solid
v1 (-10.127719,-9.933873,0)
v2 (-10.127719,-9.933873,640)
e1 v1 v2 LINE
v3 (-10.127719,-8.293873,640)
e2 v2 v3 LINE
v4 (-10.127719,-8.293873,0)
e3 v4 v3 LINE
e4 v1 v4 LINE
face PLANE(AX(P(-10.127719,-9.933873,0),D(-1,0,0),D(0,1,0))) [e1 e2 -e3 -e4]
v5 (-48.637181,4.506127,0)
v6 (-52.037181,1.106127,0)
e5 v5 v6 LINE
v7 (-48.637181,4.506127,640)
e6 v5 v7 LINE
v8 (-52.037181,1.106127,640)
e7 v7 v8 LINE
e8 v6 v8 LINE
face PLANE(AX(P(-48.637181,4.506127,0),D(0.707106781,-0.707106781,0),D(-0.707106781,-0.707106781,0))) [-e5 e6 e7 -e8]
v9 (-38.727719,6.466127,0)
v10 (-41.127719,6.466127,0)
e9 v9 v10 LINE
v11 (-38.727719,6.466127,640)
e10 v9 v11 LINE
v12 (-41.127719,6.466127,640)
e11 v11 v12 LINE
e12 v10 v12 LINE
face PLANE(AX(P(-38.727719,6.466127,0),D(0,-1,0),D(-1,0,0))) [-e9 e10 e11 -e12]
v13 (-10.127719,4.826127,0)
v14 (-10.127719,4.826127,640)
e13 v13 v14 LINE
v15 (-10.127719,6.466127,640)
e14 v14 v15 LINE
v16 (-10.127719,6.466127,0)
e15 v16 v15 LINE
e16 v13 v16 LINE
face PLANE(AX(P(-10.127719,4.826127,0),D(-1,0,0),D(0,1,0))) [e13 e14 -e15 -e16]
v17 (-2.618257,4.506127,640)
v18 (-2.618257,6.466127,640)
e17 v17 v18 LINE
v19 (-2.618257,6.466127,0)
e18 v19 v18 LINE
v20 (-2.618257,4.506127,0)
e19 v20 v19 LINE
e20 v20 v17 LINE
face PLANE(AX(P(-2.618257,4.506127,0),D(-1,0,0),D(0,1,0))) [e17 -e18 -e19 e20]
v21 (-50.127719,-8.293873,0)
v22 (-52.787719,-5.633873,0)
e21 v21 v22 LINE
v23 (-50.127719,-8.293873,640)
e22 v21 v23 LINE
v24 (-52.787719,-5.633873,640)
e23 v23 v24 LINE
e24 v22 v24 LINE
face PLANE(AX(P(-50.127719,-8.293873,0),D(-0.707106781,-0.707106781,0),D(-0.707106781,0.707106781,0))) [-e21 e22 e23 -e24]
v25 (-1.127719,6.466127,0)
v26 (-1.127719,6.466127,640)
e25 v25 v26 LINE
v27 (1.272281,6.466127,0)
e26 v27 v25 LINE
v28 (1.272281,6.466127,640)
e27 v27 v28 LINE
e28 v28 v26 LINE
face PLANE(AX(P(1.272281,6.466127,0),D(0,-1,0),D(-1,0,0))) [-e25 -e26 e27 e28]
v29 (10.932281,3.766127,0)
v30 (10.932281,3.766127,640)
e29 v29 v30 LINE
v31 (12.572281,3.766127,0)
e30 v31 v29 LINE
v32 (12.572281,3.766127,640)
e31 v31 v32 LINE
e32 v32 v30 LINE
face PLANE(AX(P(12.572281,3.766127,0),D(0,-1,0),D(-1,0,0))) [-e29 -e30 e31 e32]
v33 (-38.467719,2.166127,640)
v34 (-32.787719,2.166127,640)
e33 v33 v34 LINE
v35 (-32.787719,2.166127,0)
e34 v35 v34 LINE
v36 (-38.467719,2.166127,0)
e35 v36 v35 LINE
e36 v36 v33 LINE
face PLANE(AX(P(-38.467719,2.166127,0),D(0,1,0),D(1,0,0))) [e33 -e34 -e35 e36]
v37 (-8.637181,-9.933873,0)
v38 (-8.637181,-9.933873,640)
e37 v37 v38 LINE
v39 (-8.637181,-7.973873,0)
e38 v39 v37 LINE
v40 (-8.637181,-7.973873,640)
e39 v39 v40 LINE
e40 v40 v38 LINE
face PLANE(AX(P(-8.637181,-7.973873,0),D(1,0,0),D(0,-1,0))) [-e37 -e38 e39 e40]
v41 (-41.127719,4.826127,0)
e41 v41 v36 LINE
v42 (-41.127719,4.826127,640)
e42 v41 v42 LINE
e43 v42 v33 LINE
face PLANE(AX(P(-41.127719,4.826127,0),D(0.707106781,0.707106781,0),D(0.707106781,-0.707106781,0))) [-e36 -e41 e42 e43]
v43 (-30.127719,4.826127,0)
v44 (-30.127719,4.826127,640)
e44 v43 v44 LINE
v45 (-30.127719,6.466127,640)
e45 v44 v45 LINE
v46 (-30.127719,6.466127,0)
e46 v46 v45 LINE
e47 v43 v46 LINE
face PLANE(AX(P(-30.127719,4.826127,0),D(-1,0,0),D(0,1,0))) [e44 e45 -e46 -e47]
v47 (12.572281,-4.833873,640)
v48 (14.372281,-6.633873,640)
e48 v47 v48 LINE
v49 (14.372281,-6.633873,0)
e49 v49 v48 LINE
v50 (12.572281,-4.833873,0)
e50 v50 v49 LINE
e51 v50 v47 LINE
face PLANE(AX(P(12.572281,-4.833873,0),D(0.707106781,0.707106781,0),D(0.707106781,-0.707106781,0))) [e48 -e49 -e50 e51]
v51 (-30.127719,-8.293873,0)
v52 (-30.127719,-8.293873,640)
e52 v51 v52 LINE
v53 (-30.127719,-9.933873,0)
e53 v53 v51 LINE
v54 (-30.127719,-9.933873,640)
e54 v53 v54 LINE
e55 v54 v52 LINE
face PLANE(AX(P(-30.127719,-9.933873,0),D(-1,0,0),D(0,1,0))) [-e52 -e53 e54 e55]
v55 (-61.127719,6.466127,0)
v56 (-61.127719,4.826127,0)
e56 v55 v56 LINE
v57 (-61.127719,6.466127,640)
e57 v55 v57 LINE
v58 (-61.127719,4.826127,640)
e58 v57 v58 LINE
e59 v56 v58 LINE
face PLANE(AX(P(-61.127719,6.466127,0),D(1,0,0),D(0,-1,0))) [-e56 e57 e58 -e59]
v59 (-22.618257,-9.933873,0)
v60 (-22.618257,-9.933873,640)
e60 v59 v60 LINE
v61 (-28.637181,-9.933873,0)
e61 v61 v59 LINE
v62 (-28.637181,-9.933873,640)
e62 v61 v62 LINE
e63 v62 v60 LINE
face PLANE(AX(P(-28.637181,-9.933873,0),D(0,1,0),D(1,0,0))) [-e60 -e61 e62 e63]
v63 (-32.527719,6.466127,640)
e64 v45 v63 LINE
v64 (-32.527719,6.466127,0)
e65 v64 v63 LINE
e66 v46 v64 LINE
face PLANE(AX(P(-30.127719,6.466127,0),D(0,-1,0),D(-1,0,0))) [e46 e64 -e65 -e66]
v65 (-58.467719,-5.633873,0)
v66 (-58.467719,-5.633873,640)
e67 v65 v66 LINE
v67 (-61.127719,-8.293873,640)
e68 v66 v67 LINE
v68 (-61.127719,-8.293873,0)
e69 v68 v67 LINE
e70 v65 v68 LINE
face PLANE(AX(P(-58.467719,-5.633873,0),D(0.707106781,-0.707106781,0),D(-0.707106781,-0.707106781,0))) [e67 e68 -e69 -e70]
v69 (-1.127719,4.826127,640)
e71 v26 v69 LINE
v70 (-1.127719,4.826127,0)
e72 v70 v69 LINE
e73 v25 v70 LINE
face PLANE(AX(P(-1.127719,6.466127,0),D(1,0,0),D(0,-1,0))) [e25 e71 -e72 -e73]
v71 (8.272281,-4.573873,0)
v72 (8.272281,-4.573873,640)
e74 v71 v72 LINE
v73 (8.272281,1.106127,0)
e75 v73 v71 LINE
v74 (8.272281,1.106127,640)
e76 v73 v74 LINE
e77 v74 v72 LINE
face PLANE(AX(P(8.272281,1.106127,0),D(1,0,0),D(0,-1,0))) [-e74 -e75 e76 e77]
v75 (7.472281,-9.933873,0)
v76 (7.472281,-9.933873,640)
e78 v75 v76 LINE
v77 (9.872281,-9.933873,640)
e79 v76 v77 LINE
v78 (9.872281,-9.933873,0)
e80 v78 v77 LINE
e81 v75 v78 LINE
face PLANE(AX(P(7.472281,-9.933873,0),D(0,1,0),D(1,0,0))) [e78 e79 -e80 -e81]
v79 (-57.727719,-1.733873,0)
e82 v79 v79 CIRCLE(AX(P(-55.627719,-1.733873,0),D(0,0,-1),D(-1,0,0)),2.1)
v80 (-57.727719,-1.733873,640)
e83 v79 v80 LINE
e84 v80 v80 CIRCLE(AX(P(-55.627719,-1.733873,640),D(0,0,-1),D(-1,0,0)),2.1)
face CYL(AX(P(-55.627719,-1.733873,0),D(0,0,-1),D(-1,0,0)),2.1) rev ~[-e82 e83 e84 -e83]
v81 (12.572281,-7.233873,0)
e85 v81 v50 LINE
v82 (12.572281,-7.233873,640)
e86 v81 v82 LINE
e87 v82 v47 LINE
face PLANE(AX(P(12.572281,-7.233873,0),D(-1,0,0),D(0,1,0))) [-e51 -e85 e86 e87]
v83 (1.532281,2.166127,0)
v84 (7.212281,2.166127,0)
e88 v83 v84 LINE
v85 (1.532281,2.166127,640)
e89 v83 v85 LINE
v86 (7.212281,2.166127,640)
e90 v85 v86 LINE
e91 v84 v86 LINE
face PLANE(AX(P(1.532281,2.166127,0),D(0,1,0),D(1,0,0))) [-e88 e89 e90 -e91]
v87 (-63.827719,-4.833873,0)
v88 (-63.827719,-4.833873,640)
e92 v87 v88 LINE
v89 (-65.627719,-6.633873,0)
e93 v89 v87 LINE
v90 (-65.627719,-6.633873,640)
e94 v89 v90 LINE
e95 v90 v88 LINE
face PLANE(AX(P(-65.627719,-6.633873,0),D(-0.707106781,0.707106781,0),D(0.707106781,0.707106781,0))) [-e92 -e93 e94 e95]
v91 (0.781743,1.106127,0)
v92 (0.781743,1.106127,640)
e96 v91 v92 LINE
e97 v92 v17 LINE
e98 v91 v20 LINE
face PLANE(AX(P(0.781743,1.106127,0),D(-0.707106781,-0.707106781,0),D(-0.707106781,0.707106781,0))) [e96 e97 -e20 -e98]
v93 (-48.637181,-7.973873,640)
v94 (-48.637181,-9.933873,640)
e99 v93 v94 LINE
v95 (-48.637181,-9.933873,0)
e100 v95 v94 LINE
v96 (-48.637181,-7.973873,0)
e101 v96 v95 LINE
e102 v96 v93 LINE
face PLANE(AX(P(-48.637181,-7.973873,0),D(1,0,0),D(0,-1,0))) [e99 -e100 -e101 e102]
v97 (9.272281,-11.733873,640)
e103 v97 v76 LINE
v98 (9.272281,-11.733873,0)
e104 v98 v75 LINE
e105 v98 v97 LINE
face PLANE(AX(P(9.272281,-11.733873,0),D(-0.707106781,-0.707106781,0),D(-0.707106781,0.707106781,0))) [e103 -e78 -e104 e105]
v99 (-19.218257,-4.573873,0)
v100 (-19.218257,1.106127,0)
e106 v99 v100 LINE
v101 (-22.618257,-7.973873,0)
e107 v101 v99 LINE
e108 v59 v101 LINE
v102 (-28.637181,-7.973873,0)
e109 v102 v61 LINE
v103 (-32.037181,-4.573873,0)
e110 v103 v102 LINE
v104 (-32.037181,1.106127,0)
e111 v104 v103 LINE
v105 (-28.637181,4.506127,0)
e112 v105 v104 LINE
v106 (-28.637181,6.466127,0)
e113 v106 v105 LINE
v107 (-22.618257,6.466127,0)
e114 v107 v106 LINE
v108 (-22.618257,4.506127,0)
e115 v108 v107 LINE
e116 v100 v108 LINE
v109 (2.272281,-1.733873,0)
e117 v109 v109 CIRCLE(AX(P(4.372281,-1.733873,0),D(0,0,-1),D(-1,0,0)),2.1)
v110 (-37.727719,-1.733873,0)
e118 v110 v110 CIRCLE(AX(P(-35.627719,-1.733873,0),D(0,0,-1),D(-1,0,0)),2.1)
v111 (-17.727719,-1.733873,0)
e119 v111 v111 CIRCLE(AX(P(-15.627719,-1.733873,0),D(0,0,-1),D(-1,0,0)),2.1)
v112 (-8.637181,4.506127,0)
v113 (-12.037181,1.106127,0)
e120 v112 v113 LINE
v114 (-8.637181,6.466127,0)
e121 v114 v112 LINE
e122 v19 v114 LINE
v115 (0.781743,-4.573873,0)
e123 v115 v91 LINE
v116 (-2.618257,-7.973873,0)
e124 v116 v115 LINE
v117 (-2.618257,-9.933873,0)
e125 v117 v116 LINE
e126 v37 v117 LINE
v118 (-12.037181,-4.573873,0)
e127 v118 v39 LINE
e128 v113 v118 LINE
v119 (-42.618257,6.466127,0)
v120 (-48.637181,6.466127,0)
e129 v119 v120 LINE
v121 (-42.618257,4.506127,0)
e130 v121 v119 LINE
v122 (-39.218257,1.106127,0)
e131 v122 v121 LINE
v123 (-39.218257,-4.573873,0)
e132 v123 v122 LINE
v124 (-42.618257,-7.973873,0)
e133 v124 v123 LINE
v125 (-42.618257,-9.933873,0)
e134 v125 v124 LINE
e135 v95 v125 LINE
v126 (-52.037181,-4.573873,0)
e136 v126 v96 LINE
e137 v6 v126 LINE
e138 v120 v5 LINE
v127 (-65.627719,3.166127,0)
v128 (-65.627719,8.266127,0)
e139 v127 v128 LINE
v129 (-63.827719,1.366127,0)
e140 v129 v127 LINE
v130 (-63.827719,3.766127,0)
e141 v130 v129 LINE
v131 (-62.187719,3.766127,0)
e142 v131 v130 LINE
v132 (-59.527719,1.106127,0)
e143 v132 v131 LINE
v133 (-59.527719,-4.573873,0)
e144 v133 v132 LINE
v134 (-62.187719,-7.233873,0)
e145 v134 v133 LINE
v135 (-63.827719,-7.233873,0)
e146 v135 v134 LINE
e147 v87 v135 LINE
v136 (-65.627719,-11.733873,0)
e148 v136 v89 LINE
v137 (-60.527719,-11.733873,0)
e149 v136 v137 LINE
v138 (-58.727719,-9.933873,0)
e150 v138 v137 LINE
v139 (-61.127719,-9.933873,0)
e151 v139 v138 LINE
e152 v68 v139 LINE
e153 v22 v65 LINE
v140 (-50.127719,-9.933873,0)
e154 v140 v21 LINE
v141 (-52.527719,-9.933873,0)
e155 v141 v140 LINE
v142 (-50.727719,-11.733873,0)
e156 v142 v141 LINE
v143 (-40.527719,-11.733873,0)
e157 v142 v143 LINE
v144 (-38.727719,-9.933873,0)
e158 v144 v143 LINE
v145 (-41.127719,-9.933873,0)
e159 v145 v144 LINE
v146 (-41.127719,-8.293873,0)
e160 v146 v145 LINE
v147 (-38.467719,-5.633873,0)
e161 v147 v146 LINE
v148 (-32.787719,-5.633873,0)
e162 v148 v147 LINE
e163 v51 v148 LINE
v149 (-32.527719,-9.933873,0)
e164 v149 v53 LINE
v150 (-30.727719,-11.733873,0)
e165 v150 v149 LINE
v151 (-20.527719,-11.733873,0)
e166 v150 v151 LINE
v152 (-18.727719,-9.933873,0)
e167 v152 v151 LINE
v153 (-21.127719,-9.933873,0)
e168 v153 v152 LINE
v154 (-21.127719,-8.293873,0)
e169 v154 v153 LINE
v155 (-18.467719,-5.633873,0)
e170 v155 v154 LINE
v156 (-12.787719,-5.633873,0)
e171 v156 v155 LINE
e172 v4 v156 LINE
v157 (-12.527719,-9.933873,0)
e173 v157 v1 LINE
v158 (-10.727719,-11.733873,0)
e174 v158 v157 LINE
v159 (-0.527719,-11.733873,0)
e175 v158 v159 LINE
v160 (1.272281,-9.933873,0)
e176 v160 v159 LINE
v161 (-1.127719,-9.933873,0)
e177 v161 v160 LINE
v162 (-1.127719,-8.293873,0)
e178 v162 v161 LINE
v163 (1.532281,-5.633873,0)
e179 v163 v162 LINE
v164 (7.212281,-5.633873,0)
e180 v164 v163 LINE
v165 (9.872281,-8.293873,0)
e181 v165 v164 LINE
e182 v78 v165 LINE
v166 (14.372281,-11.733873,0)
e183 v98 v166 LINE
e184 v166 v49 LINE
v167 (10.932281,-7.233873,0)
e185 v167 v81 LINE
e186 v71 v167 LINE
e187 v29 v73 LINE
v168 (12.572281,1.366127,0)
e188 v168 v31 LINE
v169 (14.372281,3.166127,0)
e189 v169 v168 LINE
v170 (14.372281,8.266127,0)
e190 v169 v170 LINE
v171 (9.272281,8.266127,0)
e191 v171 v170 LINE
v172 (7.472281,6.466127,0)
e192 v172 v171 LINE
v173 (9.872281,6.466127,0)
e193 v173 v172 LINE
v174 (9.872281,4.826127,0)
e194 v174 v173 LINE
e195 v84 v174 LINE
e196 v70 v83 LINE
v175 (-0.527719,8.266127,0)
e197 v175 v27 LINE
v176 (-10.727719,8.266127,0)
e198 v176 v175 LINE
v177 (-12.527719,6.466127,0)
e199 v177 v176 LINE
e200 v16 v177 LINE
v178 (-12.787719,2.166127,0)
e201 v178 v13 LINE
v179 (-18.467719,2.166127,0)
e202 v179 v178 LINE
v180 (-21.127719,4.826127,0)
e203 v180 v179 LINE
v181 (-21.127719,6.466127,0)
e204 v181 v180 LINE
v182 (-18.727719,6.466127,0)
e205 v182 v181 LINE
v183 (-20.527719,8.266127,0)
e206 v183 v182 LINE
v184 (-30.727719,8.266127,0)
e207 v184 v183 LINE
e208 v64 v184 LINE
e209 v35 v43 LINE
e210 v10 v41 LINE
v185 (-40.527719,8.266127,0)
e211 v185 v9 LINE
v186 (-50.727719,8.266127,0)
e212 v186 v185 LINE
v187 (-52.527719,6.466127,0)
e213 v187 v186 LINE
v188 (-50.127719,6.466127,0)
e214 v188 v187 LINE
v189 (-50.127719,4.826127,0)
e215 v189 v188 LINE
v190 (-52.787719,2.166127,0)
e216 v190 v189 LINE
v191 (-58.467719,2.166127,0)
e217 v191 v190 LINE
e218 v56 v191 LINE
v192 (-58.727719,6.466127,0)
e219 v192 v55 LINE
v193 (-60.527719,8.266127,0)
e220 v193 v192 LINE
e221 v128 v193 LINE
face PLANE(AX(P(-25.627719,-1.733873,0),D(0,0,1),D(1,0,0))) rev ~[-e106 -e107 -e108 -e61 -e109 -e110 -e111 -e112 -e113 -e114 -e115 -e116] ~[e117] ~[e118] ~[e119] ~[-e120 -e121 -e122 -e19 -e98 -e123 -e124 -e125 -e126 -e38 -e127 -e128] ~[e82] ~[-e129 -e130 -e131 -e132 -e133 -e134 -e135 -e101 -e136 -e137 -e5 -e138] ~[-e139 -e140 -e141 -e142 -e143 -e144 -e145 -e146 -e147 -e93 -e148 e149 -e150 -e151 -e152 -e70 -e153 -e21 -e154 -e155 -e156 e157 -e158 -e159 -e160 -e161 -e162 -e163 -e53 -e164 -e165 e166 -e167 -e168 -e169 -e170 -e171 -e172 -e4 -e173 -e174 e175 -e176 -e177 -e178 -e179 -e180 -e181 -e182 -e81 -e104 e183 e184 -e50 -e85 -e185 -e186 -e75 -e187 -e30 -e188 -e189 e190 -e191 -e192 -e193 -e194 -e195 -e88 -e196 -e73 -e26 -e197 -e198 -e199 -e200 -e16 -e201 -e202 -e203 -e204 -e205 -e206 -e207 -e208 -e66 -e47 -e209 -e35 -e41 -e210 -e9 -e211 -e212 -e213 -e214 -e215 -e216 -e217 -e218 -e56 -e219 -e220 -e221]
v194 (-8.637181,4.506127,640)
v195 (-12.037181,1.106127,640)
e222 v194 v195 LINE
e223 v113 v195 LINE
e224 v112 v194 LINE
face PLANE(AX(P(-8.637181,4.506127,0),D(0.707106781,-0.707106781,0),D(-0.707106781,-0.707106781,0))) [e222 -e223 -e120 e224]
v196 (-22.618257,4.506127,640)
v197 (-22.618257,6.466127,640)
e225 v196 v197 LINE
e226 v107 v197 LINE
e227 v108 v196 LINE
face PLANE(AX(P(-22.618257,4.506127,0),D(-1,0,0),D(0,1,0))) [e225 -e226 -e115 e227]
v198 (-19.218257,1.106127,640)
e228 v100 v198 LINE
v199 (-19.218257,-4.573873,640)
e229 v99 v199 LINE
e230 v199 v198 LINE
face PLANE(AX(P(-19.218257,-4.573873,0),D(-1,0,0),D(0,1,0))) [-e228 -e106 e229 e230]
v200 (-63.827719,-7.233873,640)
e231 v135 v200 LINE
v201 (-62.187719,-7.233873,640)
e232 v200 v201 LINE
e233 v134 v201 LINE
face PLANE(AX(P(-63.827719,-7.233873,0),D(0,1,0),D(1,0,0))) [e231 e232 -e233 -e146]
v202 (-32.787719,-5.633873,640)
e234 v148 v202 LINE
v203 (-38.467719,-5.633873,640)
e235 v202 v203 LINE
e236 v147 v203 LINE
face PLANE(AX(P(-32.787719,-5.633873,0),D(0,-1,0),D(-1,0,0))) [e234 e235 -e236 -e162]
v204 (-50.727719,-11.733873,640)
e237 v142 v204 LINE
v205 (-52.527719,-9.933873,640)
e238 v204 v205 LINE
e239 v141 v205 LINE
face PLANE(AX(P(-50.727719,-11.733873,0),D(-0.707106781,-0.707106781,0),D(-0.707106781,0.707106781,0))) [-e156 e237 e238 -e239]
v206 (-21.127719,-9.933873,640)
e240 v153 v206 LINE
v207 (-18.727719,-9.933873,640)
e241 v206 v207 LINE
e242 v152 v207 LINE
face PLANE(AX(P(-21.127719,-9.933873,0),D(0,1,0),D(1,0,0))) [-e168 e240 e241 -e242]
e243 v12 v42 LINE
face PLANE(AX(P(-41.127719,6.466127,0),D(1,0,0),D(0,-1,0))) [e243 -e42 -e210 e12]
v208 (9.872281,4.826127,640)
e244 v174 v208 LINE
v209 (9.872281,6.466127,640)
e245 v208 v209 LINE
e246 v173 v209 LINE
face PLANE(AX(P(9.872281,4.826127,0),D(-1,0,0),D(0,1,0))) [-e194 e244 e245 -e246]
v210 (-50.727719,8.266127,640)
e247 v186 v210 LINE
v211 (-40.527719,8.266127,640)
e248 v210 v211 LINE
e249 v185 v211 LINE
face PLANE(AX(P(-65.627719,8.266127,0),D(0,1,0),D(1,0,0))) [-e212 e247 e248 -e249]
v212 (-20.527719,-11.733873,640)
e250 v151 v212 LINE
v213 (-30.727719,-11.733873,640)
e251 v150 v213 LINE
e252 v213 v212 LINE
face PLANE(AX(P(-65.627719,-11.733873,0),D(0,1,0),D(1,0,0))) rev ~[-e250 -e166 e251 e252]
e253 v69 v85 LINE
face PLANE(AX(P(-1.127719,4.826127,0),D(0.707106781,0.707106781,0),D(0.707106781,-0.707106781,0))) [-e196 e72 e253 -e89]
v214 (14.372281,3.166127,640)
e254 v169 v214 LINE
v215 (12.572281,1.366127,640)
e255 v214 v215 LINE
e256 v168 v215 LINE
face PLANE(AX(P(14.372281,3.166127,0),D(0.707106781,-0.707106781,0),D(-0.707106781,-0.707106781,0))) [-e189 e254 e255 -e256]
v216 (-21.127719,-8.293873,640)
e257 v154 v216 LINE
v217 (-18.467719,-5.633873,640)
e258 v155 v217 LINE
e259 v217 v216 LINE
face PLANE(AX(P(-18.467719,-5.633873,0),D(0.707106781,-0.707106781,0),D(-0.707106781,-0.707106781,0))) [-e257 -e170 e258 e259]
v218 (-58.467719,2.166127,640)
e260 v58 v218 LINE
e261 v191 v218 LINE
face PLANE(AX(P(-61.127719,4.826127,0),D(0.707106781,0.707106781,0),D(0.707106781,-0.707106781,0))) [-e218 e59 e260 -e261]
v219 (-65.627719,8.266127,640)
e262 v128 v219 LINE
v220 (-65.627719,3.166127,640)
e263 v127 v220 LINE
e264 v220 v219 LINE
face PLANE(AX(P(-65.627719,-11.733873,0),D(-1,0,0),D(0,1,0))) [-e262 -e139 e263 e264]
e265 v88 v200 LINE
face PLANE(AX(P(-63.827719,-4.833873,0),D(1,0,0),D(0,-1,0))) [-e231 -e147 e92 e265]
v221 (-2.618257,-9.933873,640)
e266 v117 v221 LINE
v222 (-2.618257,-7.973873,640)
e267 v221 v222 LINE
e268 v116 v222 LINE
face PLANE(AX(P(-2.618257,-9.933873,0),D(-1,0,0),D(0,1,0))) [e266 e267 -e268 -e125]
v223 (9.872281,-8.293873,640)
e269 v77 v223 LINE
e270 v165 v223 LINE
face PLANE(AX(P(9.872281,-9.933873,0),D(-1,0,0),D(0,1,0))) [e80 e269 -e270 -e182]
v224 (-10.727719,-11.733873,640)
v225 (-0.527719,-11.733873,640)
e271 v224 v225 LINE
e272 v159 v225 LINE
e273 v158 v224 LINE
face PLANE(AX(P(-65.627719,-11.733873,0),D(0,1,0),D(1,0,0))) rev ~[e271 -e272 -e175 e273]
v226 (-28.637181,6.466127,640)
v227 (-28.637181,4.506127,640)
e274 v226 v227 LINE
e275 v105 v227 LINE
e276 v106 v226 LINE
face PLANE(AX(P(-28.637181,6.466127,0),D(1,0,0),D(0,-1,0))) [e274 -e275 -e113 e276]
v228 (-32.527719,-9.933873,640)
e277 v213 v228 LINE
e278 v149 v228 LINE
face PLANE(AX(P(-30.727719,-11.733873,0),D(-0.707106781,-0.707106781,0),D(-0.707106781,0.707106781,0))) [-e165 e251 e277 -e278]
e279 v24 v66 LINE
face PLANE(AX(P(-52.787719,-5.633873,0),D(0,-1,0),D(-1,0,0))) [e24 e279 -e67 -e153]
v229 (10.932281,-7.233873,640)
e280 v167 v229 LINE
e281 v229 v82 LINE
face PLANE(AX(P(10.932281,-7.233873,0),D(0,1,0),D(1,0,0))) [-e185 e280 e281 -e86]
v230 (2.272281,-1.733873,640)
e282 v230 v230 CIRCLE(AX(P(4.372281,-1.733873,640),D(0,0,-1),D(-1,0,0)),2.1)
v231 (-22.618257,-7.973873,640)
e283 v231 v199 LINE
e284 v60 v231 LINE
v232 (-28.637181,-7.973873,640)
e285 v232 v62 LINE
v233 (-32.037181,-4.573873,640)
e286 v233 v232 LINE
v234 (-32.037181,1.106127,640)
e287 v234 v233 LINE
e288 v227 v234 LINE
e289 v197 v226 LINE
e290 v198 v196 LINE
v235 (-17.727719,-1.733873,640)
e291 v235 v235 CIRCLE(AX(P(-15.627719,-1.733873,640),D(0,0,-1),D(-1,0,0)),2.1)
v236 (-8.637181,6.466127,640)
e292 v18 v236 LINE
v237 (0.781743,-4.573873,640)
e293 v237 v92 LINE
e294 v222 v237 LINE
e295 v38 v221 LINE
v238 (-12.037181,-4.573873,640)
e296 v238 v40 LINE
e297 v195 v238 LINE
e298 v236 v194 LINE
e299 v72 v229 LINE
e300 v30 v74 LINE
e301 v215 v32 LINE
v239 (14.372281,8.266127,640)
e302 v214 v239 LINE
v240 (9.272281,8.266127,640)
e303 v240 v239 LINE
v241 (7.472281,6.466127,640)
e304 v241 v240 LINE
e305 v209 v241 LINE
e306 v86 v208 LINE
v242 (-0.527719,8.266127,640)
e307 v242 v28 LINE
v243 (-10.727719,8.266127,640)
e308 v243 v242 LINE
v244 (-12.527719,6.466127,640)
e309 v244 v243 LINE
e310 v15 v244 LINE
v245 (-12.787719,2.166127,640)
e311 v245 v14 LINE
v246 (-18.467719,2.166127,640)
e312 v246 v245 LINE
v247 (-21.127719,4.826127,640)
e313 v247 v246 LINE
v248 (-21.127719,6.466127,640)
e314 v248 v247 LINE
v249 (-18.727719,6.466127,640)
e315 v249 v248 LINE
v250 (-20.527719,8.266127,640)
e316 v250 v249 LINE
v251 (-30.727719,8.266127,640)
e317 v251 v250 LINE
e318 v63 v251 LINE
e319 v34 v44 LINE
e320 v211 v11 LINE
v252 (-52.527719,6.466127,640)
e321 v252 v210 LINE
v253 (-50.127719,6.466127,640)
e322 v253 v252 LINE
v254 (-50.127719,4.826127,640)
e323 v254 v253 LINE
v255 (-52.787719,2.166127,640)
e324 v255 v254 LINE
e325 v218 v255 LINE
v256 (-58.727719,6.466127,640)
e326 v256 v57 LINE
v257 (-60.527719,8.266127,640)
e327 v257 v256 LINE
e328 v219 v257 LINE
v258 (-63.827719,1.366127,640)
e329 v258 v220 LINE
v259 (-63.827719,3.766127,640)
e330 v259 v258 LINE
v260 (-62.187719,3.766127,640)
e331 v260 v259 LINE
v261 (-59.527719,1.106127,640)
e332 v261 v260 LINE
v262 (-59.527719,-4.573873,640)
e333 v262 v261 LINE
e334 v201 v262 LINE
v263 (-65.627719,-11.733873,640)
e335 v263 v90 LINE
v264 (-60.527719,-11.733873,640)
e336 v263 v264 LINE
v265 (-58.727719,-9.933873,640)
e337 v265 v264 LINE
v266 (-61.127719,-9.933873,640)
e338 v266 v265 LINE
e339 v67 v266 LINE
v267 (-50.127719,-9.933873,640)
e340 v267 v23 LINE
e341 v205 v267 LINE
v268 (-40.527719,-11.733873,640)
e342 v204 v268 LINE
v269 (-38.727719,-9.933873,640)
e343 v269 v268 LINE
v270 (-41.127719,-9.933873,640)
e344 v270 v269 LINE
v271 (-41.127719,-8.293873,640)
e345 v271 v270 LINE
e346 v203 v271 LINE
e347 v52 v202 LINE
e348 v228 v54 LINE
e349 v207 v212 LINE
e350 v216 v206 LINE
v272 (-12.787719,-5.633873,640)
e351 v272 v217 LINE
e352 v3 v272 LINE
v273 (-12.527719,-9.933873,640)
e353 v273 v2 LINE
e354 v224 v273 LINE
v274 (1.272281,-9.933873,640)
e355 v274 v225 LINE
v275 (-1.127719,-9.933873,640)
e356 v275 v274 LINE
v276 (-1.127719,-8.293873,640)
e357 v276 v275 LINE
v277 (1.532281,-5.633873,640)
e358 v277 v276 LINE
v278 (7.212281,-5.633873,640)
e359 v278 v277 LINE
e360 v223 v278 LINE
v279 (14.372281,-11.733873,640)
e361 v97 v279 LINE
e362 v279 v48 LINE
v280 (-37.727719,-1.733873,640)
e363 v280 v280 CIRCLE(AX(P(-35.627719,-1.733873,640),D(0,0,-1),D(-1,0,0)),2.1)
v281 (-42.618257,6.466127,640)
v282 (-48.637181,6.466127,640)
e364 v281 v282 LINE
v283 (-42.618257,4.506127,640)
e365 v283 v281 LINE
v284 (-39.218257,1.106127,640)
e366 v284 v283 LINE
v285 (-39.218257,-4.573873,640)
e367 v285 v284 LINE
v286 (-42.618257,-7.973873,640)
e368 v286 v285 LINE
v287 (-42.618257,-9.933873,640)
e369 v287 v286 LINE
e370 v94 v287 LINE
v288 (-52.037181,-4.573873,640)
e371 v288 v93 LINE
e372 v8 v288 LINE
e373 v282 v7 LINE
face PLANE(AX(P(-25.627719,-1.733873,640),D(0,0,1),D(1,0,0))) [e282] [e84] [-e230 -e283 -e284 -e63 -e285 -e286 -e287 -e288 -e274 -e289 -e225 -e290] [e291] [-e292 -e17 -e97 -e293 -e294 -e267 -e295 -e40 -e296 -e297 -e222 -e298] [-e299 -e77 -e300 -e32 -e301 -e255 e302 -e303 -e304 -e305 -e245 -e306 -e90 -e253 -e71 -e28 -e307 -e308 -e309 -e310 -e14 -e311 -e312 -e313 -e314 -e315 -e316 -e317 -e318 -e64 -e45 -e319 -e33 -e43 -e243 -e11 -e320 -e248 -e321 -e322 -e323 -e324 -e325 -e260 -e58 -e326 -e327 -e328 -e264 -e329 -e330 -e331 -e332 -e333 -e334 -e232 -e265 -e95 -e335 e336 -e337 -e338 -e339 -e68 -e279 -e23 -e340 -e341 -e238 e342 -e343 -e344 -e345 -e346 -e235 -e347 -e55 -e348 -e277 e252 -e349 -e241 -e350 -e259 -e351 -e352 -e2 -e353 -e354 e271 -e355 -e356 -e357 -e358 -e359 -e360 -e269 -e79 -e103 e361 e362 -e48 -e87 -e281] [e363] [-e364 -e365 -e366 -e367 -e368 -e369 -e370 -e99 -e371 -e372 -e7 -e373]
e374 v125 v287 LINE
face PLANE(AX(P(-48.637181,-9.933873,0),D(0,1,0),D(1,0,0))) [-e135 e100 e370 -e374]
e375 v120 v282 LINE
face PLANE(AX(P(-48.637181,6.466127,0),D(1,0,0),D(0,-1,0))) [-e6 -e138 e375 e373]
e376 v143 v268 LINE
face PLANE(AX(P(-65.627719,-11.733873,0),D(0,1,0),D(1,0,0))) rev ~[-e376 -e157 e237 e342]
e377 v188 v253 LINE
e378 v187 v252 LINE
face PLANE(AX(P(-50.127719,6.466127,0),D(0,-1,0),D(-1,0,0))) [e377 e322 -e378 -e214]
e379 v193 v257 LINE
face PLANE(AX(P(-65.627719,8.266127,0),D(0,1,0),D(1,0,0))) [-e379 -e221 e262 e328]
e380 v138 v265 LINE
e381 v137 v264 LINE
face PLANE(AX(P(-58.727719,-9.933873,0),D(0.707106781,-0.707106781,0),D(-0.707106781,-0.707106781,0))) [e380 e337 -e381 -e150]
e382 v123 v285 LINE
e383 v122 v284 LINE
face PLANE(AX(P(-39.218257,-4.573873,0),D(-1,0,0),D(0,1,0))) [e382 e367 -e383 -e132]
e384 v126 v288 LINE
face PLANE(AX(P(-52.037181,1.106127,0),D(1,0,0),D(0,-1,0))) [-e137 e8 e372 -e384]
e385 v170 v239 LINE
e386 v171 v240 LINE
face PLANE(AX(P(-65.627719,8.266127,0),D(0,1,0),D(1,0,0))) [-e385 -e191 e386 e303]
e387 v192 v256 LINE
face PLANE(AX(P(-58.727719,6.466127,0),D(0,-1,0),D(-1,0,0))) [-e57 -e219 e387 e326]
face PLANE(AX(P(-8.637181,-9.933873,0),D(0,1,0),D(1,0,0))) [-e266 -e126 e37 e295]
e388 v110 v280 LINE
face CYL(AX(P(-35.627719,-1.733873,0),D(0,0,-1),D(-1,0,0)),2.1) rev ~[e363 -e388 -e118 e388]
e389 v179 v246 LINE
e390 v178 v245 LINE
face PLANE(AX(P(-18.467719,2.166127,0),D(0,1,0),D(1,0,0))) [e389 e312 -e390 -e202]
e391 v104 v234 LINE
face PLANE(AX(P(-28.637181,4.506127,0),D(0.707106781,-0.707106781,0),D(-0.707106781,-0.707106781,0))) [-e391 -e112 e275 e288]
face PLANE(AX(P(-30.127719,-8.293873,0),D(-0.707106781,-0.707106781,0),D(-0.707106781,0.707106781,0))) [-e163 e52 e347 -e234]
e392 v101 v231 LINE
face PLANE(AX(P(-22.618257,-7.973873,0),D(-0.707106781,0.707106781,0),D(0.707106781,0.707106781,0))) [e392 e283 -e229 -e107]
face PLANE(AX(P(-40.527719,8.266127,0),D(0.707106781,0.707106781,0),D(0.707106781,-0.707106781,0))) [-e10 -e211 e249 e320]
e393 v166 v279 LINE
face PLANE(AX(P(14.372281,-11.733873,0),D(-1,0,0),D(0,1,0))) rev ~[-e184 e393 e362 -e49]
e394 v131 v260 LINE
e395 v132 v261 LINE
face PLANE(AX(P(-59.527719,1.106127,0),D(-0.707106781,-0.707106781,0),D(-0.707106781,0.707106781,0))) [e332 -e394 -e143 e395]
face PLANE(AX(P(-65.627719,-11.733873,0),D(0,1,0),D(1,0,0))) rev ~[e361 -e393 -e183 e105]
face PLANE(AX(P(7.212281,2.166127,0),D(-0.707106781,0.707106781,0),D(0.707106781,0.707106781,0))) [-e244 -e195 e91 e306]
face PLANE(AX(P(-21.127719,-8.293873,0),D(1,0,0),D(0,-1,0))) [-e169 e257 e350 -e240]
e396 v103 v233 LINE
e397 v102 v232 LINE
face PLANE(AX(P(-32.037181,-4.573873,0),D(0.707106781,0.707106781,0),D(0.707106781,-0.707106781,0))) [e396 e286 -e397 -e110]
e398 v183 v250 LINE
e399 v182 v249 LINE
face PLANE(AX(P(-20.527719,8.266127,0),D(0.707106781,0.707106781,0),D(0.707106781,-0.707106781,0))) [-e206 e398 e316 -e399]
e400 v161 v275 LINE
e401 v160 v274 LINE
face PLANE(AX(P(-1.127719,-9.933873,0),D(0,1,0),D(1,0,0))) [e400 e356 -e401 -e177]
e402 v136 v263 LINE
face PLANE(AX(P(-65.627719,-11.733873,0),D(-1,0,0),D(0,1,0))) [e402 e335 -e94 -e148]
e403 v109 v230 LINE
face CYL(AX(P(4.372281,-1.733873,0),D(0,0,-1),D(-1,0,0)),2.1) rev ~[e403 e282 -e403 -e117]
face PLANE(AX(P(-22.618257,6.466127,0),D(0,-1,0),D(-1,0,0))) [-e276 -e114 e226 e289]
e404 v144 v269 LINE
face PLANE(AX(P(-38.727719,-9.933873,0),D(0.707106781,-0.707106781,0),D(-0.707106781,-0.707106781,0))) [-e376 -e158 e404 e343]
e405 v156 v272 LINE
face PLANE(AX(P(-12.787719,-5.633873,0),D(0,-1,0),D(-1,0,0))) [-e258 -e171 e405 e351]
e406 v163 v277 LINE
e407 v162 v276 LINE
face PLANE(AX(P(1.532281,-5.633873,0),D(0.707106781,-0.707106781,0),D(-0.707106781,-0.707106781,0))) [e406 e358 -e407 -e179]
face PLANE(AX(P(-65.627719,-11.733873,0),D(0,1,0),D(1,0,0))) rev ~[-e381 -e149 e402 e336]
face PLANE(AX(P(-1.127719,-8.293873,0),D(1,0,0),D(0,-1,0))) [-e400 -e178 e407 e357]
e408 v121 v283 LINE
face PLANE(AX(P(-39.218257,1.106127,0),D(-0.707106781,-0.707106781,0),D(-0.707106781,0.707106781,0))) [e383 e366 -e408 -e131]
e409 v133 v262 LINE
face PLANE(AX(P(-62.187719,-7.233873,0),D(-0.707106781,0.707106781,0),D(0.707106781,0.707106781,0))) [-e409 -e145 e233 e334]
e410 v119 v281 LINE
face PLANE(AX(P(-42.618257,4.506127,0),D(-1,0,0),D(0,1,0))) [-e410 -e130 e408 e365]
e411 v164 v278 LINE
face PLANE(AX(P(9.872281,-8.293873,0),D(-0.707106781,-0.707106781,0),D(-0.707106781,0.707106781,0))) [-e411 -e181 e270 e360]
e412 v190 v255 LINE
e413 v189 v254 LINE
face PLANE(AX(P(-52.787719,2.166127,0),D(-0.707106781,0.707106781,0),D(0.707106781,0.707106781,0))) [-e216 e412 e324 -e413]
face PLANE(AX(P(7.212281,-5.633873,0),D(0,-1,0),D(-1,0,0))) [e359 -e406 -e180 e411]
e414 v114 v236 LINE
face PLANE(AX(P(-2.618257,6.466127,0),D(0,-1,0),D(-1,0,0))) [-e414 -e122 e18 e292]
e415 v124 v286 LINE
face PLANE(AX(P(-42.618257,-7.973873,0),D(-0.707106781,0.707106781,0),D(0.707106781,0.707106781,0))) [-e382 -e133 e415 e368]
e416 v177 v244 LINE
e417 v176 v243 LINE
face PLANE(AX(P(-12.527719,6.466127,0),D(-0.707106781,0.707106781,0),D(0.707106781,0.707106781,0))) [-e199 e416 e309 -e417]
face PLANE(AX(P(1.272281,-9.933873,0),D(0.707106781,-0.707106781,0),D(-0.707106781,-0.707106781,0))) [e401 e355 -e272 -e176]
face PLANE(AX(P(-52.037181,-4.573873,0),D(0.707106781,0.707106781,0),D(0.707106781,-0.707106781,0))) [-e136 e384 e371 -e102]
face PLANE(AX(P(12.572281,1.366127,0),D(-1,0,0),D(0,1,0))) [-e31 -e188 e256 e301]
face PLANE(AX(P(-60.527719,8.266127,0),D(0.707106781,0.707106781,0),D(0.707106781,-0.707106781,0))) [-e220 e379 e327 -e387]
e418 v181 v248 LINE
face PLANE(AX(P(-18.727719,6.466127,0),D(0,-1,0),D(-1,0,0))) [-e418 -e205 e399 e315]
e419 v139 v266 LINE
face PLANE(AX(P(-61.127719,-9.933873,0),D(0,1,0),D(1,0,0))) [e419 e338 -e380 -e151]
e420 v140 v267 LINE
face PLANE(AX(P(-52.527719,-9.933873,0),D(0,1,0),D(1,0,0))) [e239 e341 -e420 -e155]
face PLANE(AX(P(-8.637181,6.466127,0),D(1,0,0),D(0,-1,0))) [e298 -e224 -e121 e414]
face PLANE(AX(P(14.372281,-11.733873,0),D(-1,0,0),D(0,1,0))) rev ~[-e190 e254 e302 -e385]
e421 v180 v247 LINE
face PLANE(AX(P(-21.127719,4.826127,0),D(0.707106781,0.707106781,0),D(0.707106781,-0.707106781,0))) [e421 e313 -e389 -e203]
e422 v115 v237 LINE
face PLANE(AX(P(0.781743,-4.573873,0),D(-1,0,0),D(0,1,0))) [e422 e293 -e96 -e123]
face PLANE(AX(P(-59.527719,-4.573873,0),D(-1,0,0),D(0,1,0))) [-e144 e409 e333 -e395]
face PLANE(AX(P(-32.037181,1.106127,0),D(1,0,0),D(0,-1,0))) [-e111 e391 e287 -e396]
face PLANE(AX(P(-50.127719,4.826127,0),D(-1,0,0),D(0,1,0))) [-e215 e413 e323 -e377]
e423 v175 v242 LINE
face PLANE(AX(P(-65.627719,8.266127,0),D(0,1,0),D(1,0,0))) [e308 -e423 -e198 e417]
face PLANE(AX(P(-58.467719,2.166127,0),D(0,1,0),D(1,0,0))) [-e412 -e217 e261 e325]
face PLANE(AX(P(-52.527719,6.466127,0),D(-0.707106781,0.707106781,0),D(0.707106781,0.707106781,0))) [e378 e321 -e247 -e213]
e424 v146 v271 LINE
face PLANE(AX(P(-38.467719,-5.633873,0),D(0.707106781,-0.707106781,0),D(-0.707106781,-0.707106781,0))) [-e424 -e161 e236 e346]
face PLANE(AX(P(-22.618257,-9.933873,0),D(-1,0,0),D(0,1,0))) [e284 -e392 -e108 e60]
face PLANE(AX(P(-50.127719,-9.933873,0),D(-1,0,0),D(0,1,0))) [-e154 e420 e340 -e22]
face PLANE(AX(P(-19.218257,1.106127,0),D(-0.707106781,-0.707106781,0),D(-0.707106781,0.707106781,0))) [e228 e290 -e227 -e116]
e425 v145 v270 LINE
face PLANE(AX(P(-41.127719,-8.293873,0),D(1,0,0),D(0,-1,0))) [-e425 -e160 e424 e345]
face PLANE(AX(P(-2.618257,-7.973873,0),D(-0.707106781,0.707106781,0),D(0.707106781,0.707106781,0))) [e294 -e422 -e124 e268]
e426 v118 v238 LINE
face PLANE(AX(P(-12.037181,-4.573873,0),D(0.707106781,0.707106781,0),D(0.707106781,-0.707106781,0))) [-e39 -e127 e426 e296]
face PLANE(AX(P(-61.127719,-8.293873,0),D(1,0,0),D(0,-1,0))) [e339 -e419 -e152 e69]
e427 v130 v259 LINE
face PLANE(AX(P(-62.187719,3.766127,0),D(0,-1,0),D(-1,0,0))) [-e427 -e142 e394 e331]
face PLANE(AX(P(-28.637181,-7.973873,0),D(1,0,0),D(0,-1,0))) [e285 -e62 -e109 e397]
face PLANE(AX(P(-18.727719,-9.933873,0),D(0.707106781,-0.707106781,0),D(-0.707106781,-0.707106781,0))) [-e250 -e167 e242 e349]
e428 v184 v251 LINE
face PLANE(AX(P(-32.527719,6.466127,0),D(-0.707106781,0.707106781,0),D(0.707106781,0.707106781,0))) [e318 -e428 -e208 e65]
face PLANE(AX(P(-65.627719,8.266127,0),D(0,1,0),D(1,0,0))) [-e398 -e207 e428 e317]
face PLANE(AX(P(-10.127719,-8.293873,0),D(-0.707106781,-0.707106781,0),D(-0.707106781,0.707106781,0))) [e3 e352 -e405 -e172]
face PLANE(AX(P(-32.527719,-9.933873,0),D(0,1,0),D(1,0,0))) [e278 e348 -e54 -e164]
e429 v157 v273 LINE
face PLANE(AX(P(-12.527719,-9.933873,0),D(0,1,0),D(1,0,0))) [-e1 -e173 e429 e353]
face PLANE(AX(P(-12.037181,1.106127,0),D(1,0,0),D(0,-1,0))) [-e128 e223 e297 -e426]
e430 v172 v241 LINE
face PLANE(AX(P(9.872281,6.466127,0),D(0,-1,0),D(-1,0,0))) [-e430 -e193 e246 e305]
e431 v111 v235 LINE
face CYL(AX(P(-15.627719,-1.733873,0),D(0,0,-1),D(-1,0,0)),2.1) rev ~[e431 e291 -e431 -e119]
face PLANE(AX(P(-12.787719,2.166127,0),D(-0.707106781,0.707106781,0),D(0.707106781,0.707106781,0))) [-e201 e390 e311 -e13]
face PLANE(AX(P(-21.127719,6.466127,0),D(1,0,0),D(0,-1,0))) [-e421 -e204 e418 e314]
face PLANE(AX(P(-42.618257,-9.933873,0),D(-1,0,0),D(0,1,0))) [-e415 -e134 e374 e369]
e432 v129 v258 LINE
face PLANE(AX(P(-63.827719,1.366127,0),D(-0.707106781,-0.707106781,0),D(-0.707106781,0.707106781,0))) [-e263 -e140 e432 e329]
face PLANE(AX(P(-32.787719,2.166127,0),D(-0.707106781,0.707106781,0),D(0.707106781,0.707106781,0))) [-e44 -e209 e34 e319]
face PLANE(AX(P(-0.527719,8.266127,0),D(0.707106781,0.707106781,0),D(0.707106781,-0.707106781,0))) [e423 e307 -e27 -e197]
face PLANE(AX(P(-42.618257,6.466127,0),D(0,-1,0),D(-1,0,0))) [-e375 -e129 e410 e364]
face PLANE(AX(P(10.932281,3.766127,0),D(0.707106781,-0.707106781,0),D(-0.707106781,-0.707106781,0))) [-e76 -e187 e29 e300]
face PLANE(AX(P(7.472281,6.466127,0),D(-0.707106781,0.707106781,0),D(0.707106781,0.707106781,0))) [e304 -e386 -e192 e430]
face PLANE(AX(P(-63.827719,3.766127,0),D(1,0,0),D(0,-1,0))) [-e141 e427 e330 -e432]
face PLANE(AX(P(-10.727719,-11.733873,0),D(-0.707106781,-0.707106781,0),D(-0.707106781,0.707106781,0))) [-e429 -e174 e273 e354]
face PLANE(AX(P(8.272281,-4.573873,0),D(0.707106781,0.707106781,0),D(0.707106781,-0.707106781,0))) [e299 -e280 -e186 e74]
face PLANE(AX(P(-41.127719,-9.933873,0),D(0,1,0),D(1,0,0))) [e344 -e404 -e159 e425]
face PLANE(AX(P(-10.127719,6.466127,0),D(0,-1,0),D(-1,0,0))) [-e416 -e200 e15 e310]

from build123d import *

# Parameters (mm, degrees)
ESQUISSE1_W             = 80
ESQUISSE1_H             = 20
BOSS_EXTRU_1_DEPTH      = 640
ENL_V_MAT_EXTRU_1_REACH = 645.463
ESQUISSE2_R             = 2.1
ENL_V_MAT_EXTRU_2_REACH = 645.463


with BuildPart() as part:
    # Esquisse1 → Boss.-Extru.1 (new body)
    with BuildSketch(Plane.XY):
        with Locations((-25.62771875, -1.733873274)):
            Rectangle(ESQUISSE1_W, ESQUISSE1_H)
    extrude(amount=BOSS_EXTRU_1_DEPTH)

    # Esquisse2 → Enlèv. mat.-Extru.1 (cut, up to next)
    with BuildSketch(Plane(origin=(0, 0, 0), x_dir=(-1, 0, 0), z_dir=(0, 0, -1)), mode=Mode.PRIVATE) as enl_v_mat_extru_1_sk1:
        with Locations((55.62771875, -1.733873274)):
            Circle(ESQUISSE2_R)
    enl_v_mat_extru_1_tool1 = extrude(enl_v_mat_extru_1_sk1.sketch, amount=-ENL_V_MAT_EXTRU_1_REACH, mode=Mode.PRIVATE) & part.part
    # Esquisse2 → Enlèv. mat.-Extru.1 (cut, up to next)
    with BuildSketch(Plane(origin=(0, 0, 0), x_dir=(-1, 0, 0), z_dir=(0, 0, -1)), mode=Mode.PRIVATE) as enl_v_mat_extru_1_sk2:
        with Locations((35.62771875, -1.733873274)):
            Circle(ESQUISSE2_R)
    enl_v_mat_extru_1_tool2 = extrude(enl_v_mat_extru_1_sk2.sketch, amount=-ENL_V_MAT_EXTRU_1_REACH, mode=Mode.PRIVATE) & part.part
    # Esquisse2 → Enlèv. mat.-Extru.1 (cut, up to next)
    with BuildSketch(Plane(origin=(0, 0, 0), x_dir=(-1, 0, 0), z_dir=(0, 0, -1)), mode=Mode.PRIVATE) as enl_v_mat_extru_1_sk3:
        with Locations((15.62771875, -1.733873274)):
            Circle(ESQUISSE2_R)
    enl_v_mat_extru_1_tool3 = extrude(enl_v_mat_extru_1_sk3.sketch, amount=-ENL_V_MAT_EXTRU_1_REACH, mode=Mode.PRIVATE) & part.part
    # Esquisse2 → Enlèv. mat.-Extru.1 (cut, up to next)
    with BuildSketch(Plane(origin=(0, 0, 0), x_dir=(-1, 0, 0), z_dir=(0, 0, -1)), mode=Mode.PRIVATE) as enl_v_mat_extru_1_sk4:
        with Locations((-4.37228125, -1.733873274)):
            Circle(ESQUISSE2_R)
    enl_v_mat_extru_1_tool4 = extrude(enl_v_mat_extru_1_sk4.sketch, amount=-ENL_V_MAT_EXTRU_1_REACH, mode=Mode.PRIVATE) & part.part
    # Esquisse2 → Enlèv. mat.-Extru.1 (cut, up to next)
    with BuildSketch(Plane(origin=(0, 0, 0), x_dir=(-1, 0, 0), z_dir=(0, 0, -1)), mode=Mode.PRIVATE) as enl_v_mat_extru_1_sk5:
        Polygon((50.72771875, 8.266126726), (60.52771875, 8.266126726), (58.72771875, 6.466126726), (61.12771875, 6.466126726), (61.12771875, 4.826126726), (58.46771875, 2.166126726), (52.78771875, 2.166126726), (50.12771875, 4.826126726), (50.12771875, 6.466126726), (52.52771875, 6.466126726), align=None)
    enl_v_mat_extru_1_tool5 = extrude(enl_v_mat_extru_1_sk5.sketch, amount=-ENL_V_MAT_EXTRU_1_REACH, mode=Mode.PRIVATE) & part.part
    # Esquisse2 → Enlèv. mat.-Extru.1 (cut, up to next)
    with BuildSketch(Plane(origin=(0, 0, 0), x_dir=(-1, 0, 0), z_dir=(0, 0, -1)), mode=Mode.PRIVATE) as enl_v_mat_extru_1_sk6:
        Polygon((65.62771875, 3.166126726), (65.62771875, -6.633873274), (63.82771875, -4.833873274), (63.82771875, -7.233873274), (62.18771875, -7.233873274), (59.52771875, -4.573873274), (59.52771875, 1.106126726), (62.18771875, 3.766126726), (63.82771875, 3.766126726), (63.82771875, 1.366126726), align=None)
    enl_v_mat_extru_1_tool6 = extrude(enl_v_mat_extru_1_sk6.sketch, amount=-ENL_V_MAT_EXTRU_1_REACH, mode=Mode.PRIVATE) & part.part
    # Esquisse2 → Enlèv. mat.-Extru.1 (cut, up to next)
    with BuildSketch(Plane(origin=(0, 0, 0), x_dir=(-1, 0, 0), z_dir=(0, 0, -1)), mode=Mode.PRIVATE) as enl_v_mat_extru_1_sk7:
        Polygon((60.52771875, -11.733873274), (50.72771875, -11.733873274), (52.52771875, -9.933873274), (50.12771875, -9.933873274), (50.12771875, -8.293873274), (52.78771875, -5.633873274), (58.46771875, -5.633873274), (61.12771875, -8.293873274), (61.12771875, -9.933873274), (58.72771875, -9.933873274), align=None)
    enl_v_mat_extru_1_tool7 = extrude(enl_v_mat_extru_1_sk7.sketch, amount=-ENL_V_MAT_EXTRU_1_REACH, mode=Mode.PRIVATE) & part.part
    # Esquisse2 → Enlèv. mat.-Extru.1 (cut, up to next)
    with BuildSketch(Plane(origin=(0, 0, 0), x_dir=(-1, 0, 0), z_dir=(0, 0, -1)), mode=Mode.PRIVATE) as enl_v_mat_extru_1_sk8:
        Polygon((30.72771875, 8.266126726), (40.52771875, 8.266126726), (38.72771875, 6.466126726), (41.12771875, 6.466126726), (41.12771875, 4.826126726), (38.46771875, 2.166126726), (32.78771875, 2.166126726), (30.12771875, 4.826126726), (30.12771875, 6.466126726), (32.52771875, 6.466126726), align=None)
    enl_v_mat_extru_1_tool8 = extrude(enl_v_mat_extru_1_sk8.sketch, amount=-ENL_V_MAT_EXTRU_1_REACH, mode=Mode.PRIVATE) & part.part
    # Esquisse2 → Enlèv. mat.-Extru.1 (cut, up to next)
    with BuildSketch(Plane(origin=(0, 0, 0), x_dir=(-1, 0, 0), z_dir=(0, 0, -1)), mode=Mode.PRIVATE) as enl_v_mat_extru_1_sk9:
        Polygon((40.52771875, -11.733873274), (30.72771875, -11.733873274), (32.52771875, -9.933873274), (30.12771875, -9.933873274), (30.12771875, -8.293873274), (32.78771875, -5.633873274), (38.46771875, -5.633873274), (41.12771875, -8.293873274), (41.12771875, -9.933873274), (38.72771875, -9.933873274), align=None)
    enl_v_mat_extru_1_tool9 = extrude(enl_v_mat_extru_1_sk9.sketch, amount=-ENL_V_MAT_EXTRU_1_REACH, mode=Mode.PRIVATE) & part.part
    # Esquisse2 → Enlèv. mat.-Extru.1 (cut, up to next)
    with BuildSketch(Plane(origin=(0, 0, 0), x_dir=(-1, 0, 0), z_dir=(0, 0, -1)), mode=Mode.PRIVATE) as enl_v_mat_extru_1_sk10:
        Polygon((10.72771875, 8.266126726), (20.52771875, 8.266126726), (18.72771875, 6.466126726), (21.12771875, 6.466126726), (21.12771875, 4.826126726), (18.46771875, 2.166126726), (12.78771875, 2.166126726), (10.12771875, 4.826126726), (10.12771875, 6.466126726), (12.52771875, 6.466126726), align=None)
    enl_v_mat_extru_1_tool10 = extrude(enl_v_mat_extru_1_sk10.sketch, amount=-ENL_V_MAT_EXTRU_1_REACH, mode=Mode.PRIVATE) & part.part
    # Esquisse2 → Enlèv. mat.-Extru.1 (cut, up to next)
    with BuildSketch(Plane(origin=(0, 0, 0), x_dir=(-1, 0, 0), z_dir=(0, 0, -1)), mode=Mode.PRIVATE) as enl_v_mat_extru_1_sk11:
        Polygon((20.52771875, -11.733873274), (10.72771875, -11.733873274), (12.52771875, -9.933873274), (10.12771875, -9.933873274), (10.12771875, -8.293873274), (12.78771875, -5.633873274), (18.46771875, -5.633873274), (21.12771875, -8.293873274), (21.12771875, -9.933873274), (18.72771875, -9.933873274), align=None)
    enl_v_mat_extru_1_tool11 = extrude(enl_v_mat_extru_1_sk11.sketch, amount=-ENL_V_MAT_EXTRU_1_REACH, mode=Mode.PRIVATE) & part.part
    # Esquisse2 → Enlèv. mat.-Extru.1 (cut, up to next)
    with BuildSketch(Plane(origin=(0, 0, 0), x_dir=(-1, 0, 0), z_dir=(0, 0, -1)), mode=Mode.PRIVATE) as enl_v_mat_extru_1_sk12:
        Polygon((-9.27228125, 8.266126726), (0.52771875, 8.266126726), (-1.27228125, 6.466126726), (1.12771875, 6.466126726), (1.12771875, 4.826126726), (-1.53228125, 2.166126726), (-7.21228125, 2.166126726), (-9.87228125, 4.826126726), (-9.87228125, 6.466126726), (-7.47228125, 6.466126726), align=None)
    enl_v_mat_extru_1_tool12 = extrude(enl_v_mat_extru_1_sk12.sketch, amount=-ENL_V_MAT_EXTRU_1_REACH, mode=Mode.PRIVATE) & part.part
    # Esquisse2 → Enlèv. mat.-Extru.1 (cut, up to next)
    with BuildSketch(Plane(origin=(0, 0, 0), x_dir=(-1, 0, 0), z_dir=(0, 0, -1)), mode=Mode.PRIVATE) as enl_v_mat_extru_1_sk13:
        Polygon((0.52771875, -11.733873274), (-9.27228125, -11.733873274), (-7.47228125, -9.933873274), (-9.87228125, -9.933873274), (-9.87228125, -8.293873274), (-7.21228125, -5.633873274), (-1.53228125, -5.633873274), (1.12771875, -8.293873274), (1.12771875, -9.933873274), (-1.27228125, -9.933873274), align=None)
    enl_v_mat_extru_1_tool13 = extrude(enl_v_mat_extru_1_sk13.sketch, amount=-ENL_V_MAT_EXTRU_1_REACH, mode=Mode.PRIVATE) & part.part
    # Esquisse2 → Enlèv. mat.-Extru.1 (cut, up to next)
    with BuildSketch(Plane(origin=(0, 0, 0), x_dir=(-1, 0, 0), z_dir=(0, 0, -1)), mode=Mode.PRIVATE) as enl_v_mat_extru_1_sk14:
        Polygon((-14.37228125, -6.633873274), (-14.37228125, 3.166126726), (-12.57228125, 1.366126726), (-12.57228125, 3.766126726), (-10.93228125, 3.766126726), (-8.27228125, 1.106126726), (-8.27228125, -4.573873274), (-10.93228125, -7.233873274), (-12.57228125, -7.233873274), (-12.57228125, -4.833873274), align=None)
    enl_v_mat_extru_1_tool14 = extrude(enl_v_mat_extru_1_sk14.sketch, amount=-ENL_V_MAT_EXTRU_1_REACH, mode=Mode.PRIVATE) & part.part
    add(enl_v_mat_extru_1_tool1.solids().sort_by_distance((-55.627719, -1.733873, 0))[0], mode=Mode.SUBTRACT)
    add(enl_v_mat_extru_1_tool2.solids().sort_by_distance((-35.627719, -1.733873, 0))[0], mode=Mode.SUBTRACT)
    add(enl_v_mat_extru_1_tool3.solids().sort_by_distance((-15.627719, -1.733873, 0))[0], mode=Mode.SUBTRACT)
    add(enl_v_mat_extru_1_tool4.solids().sort_by_distance((4.372281, -1.733873, 0))[0], mode=Mode.SUBTRACT)
    add(enl_v_mat_extru_1_tool5.solids().sort_by_distance((-55.627719, 5.301599, 0))[0], mode=Mode.SUBTRACT)
    add(enl_v_mat_extru_1_tool6.solids().sort_by_distance((-62.663191, -1.733873, 0))[0], mode=Mode.SUBTRACT)
    add(enl_v_mat_extru_1_tool7.solids().sort_by_distance((-55.627719, -8.769346, 0))[0], mode=Mode.SUBTRACT)
    add(enl_v_mat_extru_1_tool8.solids().sort_by_distance((-35.627719, 5.301599, 0))[0], mode=Mode.SUBTRACT)
    add(enl_v_mat_extru_1_tool9.solids().sort_by_distance((-35.627719, -8.769346, 0))[0], mode=Mode.SUBTRACT)
    add(enl_v_mat_extru_1_tool10.solids().sort_by_distance((-15.627719, 5.301599, 0))[0], mode=Mode.SUBTRACT)
    add(enl_v_mat_extru_1_tool11.solids().sort_by_distance((-15.627719, -8.769346, 0))[0], mode=Mode.SUBTRACT)
    add(enl_v_mat_extru_1_tool12.solids().sort_by_distance((4.372281, 5.301599, 0))[0], mode=Mode.SUBTRACT)
    add(enl_v_mat_extru_1_tool13.solids().sort_by_distance((4.372281, -8.769346, 0))[0], mode=Mode.SUBTRACT)
    add(enl_v_mat_extru_1_tool14.solids().sort_by_distance((11.407754, -1.733873, 0))[0], mode=Mode.SUBTRACT)

    # Esquisse3 → Enlèv. mat.-Extru.2 (cut, up to next)
    with BuildSketch(Plane(origin=(0, 0, 0), x_dir=(-1, 0, 0), z_dir=(0, 0, -1)), mode=Mode.PRIVATE) as enl_v_mat_extru_2_sk1:
        Polygon((2.618256699, 6.466126726), (8.637180802, 6.466126726), (8.637180802, 4.506126726), (12.037180802, 1.106126726), (12.037180802, -4.573873274), (8.637180802, -7.973873274), (8.637180802, -9.933873274), (2.618256699, -9.933873274), (2.618256699, -7.973873274), (-0.781743301, -4.573873274), (-0.781743301, 1.106126726), (2.618256699, 4.506126726), align=None)
    enl_v_mat_extru_2_tool1 = extrude(enl_v_mat_extru_2_sk1.sketch, amount=-ENL_V_MAT_EXTRU_2_REACH, mode=Mode.PRIVATE) & part.part
    # Esquisse3 → Enlèv. mat.-Extru.2 (cut, up to next)
    with BuildSketch(Plane(origin=(0, 0, 0), x_dir=(-1, 0, 0), z_dir=(0, 0, -1)), mode=Mode.PRIVATE) as enl_v_mat_extru_2_sk2:
        Polygon((22.618256699, 6.466126726), (28.637180802, 6.466126726), (28.637180802, 4.506126726), (32.037180802, 1.106126726), (32.037180802, -4.573873274), (28.637180802, -7.973873274), (28.637180802, -9.933873274), (22.618256699, -9.933873274), (22.618256699, -7.973873274), (19.218256699, -4.573873274), (19.218256699, 1.106126726), (22.618256699, 4.506126726), align=None)
    enl_v_mat_extru_2_tool2 = extrude(enl_v_mat_extru_2_sk2.sketch, amount=-ENL_V_MAT_EXTRU_2_REACH, mode=Mode.PRIVATE) & part.part
    # Esquisse3 → Enlèv. mat.-Extru.2 (cut, up to next)
    with BuildSketch(Plane(origin=(0, 0, 0), x_dir=(-1, 0, 0), z_dir=(0, 0, -1)), mode=Mode.PRIVATE) as enl_v_mat_extru_2_sk3:
        Polygon((42.618256699, 6.466126726), (48.637180802, 6.466126726), (48.637180802, 4.506126726), (52.037180802, 1.106126726), (52.037180802, -4.573873274), (48.637180802, -7.973873274), (48.637180802, -9.933873274), (42.618256699, -9.933873274), (42.618256699, -7.973873274), (39.218256699, -4.573873274), (39.218256699, 1.106126726), (42.618256699, 4.506126726), align=None)
    enl_v_mat_extru_2_tool3 = extrude(enl_v_mat_extru_2_sk3.sketch, amount=-ENL_V_MAT_EXTRU_2_REACH, mode=Mode.PRIVATE) & part.part
    add(enl_v_mat_extru_2_tool1.solids().sort_by_distance((-5.627719, -1.733873, 0))[0], mode=Mode.SUBTRACT)
    add(enl_v_mat_extru_2_tool2.solids().sort_by_distance((-25.627719, -1.733873, 0))[0], mode=Mode.SUBTRACT)
    add(enl_v_mat_extru_2_tool3.solids().sort_by_distance((-45.627719, -1.733873, 0))[0], mode=Mode.SUBTRACT)


solid = part.part
